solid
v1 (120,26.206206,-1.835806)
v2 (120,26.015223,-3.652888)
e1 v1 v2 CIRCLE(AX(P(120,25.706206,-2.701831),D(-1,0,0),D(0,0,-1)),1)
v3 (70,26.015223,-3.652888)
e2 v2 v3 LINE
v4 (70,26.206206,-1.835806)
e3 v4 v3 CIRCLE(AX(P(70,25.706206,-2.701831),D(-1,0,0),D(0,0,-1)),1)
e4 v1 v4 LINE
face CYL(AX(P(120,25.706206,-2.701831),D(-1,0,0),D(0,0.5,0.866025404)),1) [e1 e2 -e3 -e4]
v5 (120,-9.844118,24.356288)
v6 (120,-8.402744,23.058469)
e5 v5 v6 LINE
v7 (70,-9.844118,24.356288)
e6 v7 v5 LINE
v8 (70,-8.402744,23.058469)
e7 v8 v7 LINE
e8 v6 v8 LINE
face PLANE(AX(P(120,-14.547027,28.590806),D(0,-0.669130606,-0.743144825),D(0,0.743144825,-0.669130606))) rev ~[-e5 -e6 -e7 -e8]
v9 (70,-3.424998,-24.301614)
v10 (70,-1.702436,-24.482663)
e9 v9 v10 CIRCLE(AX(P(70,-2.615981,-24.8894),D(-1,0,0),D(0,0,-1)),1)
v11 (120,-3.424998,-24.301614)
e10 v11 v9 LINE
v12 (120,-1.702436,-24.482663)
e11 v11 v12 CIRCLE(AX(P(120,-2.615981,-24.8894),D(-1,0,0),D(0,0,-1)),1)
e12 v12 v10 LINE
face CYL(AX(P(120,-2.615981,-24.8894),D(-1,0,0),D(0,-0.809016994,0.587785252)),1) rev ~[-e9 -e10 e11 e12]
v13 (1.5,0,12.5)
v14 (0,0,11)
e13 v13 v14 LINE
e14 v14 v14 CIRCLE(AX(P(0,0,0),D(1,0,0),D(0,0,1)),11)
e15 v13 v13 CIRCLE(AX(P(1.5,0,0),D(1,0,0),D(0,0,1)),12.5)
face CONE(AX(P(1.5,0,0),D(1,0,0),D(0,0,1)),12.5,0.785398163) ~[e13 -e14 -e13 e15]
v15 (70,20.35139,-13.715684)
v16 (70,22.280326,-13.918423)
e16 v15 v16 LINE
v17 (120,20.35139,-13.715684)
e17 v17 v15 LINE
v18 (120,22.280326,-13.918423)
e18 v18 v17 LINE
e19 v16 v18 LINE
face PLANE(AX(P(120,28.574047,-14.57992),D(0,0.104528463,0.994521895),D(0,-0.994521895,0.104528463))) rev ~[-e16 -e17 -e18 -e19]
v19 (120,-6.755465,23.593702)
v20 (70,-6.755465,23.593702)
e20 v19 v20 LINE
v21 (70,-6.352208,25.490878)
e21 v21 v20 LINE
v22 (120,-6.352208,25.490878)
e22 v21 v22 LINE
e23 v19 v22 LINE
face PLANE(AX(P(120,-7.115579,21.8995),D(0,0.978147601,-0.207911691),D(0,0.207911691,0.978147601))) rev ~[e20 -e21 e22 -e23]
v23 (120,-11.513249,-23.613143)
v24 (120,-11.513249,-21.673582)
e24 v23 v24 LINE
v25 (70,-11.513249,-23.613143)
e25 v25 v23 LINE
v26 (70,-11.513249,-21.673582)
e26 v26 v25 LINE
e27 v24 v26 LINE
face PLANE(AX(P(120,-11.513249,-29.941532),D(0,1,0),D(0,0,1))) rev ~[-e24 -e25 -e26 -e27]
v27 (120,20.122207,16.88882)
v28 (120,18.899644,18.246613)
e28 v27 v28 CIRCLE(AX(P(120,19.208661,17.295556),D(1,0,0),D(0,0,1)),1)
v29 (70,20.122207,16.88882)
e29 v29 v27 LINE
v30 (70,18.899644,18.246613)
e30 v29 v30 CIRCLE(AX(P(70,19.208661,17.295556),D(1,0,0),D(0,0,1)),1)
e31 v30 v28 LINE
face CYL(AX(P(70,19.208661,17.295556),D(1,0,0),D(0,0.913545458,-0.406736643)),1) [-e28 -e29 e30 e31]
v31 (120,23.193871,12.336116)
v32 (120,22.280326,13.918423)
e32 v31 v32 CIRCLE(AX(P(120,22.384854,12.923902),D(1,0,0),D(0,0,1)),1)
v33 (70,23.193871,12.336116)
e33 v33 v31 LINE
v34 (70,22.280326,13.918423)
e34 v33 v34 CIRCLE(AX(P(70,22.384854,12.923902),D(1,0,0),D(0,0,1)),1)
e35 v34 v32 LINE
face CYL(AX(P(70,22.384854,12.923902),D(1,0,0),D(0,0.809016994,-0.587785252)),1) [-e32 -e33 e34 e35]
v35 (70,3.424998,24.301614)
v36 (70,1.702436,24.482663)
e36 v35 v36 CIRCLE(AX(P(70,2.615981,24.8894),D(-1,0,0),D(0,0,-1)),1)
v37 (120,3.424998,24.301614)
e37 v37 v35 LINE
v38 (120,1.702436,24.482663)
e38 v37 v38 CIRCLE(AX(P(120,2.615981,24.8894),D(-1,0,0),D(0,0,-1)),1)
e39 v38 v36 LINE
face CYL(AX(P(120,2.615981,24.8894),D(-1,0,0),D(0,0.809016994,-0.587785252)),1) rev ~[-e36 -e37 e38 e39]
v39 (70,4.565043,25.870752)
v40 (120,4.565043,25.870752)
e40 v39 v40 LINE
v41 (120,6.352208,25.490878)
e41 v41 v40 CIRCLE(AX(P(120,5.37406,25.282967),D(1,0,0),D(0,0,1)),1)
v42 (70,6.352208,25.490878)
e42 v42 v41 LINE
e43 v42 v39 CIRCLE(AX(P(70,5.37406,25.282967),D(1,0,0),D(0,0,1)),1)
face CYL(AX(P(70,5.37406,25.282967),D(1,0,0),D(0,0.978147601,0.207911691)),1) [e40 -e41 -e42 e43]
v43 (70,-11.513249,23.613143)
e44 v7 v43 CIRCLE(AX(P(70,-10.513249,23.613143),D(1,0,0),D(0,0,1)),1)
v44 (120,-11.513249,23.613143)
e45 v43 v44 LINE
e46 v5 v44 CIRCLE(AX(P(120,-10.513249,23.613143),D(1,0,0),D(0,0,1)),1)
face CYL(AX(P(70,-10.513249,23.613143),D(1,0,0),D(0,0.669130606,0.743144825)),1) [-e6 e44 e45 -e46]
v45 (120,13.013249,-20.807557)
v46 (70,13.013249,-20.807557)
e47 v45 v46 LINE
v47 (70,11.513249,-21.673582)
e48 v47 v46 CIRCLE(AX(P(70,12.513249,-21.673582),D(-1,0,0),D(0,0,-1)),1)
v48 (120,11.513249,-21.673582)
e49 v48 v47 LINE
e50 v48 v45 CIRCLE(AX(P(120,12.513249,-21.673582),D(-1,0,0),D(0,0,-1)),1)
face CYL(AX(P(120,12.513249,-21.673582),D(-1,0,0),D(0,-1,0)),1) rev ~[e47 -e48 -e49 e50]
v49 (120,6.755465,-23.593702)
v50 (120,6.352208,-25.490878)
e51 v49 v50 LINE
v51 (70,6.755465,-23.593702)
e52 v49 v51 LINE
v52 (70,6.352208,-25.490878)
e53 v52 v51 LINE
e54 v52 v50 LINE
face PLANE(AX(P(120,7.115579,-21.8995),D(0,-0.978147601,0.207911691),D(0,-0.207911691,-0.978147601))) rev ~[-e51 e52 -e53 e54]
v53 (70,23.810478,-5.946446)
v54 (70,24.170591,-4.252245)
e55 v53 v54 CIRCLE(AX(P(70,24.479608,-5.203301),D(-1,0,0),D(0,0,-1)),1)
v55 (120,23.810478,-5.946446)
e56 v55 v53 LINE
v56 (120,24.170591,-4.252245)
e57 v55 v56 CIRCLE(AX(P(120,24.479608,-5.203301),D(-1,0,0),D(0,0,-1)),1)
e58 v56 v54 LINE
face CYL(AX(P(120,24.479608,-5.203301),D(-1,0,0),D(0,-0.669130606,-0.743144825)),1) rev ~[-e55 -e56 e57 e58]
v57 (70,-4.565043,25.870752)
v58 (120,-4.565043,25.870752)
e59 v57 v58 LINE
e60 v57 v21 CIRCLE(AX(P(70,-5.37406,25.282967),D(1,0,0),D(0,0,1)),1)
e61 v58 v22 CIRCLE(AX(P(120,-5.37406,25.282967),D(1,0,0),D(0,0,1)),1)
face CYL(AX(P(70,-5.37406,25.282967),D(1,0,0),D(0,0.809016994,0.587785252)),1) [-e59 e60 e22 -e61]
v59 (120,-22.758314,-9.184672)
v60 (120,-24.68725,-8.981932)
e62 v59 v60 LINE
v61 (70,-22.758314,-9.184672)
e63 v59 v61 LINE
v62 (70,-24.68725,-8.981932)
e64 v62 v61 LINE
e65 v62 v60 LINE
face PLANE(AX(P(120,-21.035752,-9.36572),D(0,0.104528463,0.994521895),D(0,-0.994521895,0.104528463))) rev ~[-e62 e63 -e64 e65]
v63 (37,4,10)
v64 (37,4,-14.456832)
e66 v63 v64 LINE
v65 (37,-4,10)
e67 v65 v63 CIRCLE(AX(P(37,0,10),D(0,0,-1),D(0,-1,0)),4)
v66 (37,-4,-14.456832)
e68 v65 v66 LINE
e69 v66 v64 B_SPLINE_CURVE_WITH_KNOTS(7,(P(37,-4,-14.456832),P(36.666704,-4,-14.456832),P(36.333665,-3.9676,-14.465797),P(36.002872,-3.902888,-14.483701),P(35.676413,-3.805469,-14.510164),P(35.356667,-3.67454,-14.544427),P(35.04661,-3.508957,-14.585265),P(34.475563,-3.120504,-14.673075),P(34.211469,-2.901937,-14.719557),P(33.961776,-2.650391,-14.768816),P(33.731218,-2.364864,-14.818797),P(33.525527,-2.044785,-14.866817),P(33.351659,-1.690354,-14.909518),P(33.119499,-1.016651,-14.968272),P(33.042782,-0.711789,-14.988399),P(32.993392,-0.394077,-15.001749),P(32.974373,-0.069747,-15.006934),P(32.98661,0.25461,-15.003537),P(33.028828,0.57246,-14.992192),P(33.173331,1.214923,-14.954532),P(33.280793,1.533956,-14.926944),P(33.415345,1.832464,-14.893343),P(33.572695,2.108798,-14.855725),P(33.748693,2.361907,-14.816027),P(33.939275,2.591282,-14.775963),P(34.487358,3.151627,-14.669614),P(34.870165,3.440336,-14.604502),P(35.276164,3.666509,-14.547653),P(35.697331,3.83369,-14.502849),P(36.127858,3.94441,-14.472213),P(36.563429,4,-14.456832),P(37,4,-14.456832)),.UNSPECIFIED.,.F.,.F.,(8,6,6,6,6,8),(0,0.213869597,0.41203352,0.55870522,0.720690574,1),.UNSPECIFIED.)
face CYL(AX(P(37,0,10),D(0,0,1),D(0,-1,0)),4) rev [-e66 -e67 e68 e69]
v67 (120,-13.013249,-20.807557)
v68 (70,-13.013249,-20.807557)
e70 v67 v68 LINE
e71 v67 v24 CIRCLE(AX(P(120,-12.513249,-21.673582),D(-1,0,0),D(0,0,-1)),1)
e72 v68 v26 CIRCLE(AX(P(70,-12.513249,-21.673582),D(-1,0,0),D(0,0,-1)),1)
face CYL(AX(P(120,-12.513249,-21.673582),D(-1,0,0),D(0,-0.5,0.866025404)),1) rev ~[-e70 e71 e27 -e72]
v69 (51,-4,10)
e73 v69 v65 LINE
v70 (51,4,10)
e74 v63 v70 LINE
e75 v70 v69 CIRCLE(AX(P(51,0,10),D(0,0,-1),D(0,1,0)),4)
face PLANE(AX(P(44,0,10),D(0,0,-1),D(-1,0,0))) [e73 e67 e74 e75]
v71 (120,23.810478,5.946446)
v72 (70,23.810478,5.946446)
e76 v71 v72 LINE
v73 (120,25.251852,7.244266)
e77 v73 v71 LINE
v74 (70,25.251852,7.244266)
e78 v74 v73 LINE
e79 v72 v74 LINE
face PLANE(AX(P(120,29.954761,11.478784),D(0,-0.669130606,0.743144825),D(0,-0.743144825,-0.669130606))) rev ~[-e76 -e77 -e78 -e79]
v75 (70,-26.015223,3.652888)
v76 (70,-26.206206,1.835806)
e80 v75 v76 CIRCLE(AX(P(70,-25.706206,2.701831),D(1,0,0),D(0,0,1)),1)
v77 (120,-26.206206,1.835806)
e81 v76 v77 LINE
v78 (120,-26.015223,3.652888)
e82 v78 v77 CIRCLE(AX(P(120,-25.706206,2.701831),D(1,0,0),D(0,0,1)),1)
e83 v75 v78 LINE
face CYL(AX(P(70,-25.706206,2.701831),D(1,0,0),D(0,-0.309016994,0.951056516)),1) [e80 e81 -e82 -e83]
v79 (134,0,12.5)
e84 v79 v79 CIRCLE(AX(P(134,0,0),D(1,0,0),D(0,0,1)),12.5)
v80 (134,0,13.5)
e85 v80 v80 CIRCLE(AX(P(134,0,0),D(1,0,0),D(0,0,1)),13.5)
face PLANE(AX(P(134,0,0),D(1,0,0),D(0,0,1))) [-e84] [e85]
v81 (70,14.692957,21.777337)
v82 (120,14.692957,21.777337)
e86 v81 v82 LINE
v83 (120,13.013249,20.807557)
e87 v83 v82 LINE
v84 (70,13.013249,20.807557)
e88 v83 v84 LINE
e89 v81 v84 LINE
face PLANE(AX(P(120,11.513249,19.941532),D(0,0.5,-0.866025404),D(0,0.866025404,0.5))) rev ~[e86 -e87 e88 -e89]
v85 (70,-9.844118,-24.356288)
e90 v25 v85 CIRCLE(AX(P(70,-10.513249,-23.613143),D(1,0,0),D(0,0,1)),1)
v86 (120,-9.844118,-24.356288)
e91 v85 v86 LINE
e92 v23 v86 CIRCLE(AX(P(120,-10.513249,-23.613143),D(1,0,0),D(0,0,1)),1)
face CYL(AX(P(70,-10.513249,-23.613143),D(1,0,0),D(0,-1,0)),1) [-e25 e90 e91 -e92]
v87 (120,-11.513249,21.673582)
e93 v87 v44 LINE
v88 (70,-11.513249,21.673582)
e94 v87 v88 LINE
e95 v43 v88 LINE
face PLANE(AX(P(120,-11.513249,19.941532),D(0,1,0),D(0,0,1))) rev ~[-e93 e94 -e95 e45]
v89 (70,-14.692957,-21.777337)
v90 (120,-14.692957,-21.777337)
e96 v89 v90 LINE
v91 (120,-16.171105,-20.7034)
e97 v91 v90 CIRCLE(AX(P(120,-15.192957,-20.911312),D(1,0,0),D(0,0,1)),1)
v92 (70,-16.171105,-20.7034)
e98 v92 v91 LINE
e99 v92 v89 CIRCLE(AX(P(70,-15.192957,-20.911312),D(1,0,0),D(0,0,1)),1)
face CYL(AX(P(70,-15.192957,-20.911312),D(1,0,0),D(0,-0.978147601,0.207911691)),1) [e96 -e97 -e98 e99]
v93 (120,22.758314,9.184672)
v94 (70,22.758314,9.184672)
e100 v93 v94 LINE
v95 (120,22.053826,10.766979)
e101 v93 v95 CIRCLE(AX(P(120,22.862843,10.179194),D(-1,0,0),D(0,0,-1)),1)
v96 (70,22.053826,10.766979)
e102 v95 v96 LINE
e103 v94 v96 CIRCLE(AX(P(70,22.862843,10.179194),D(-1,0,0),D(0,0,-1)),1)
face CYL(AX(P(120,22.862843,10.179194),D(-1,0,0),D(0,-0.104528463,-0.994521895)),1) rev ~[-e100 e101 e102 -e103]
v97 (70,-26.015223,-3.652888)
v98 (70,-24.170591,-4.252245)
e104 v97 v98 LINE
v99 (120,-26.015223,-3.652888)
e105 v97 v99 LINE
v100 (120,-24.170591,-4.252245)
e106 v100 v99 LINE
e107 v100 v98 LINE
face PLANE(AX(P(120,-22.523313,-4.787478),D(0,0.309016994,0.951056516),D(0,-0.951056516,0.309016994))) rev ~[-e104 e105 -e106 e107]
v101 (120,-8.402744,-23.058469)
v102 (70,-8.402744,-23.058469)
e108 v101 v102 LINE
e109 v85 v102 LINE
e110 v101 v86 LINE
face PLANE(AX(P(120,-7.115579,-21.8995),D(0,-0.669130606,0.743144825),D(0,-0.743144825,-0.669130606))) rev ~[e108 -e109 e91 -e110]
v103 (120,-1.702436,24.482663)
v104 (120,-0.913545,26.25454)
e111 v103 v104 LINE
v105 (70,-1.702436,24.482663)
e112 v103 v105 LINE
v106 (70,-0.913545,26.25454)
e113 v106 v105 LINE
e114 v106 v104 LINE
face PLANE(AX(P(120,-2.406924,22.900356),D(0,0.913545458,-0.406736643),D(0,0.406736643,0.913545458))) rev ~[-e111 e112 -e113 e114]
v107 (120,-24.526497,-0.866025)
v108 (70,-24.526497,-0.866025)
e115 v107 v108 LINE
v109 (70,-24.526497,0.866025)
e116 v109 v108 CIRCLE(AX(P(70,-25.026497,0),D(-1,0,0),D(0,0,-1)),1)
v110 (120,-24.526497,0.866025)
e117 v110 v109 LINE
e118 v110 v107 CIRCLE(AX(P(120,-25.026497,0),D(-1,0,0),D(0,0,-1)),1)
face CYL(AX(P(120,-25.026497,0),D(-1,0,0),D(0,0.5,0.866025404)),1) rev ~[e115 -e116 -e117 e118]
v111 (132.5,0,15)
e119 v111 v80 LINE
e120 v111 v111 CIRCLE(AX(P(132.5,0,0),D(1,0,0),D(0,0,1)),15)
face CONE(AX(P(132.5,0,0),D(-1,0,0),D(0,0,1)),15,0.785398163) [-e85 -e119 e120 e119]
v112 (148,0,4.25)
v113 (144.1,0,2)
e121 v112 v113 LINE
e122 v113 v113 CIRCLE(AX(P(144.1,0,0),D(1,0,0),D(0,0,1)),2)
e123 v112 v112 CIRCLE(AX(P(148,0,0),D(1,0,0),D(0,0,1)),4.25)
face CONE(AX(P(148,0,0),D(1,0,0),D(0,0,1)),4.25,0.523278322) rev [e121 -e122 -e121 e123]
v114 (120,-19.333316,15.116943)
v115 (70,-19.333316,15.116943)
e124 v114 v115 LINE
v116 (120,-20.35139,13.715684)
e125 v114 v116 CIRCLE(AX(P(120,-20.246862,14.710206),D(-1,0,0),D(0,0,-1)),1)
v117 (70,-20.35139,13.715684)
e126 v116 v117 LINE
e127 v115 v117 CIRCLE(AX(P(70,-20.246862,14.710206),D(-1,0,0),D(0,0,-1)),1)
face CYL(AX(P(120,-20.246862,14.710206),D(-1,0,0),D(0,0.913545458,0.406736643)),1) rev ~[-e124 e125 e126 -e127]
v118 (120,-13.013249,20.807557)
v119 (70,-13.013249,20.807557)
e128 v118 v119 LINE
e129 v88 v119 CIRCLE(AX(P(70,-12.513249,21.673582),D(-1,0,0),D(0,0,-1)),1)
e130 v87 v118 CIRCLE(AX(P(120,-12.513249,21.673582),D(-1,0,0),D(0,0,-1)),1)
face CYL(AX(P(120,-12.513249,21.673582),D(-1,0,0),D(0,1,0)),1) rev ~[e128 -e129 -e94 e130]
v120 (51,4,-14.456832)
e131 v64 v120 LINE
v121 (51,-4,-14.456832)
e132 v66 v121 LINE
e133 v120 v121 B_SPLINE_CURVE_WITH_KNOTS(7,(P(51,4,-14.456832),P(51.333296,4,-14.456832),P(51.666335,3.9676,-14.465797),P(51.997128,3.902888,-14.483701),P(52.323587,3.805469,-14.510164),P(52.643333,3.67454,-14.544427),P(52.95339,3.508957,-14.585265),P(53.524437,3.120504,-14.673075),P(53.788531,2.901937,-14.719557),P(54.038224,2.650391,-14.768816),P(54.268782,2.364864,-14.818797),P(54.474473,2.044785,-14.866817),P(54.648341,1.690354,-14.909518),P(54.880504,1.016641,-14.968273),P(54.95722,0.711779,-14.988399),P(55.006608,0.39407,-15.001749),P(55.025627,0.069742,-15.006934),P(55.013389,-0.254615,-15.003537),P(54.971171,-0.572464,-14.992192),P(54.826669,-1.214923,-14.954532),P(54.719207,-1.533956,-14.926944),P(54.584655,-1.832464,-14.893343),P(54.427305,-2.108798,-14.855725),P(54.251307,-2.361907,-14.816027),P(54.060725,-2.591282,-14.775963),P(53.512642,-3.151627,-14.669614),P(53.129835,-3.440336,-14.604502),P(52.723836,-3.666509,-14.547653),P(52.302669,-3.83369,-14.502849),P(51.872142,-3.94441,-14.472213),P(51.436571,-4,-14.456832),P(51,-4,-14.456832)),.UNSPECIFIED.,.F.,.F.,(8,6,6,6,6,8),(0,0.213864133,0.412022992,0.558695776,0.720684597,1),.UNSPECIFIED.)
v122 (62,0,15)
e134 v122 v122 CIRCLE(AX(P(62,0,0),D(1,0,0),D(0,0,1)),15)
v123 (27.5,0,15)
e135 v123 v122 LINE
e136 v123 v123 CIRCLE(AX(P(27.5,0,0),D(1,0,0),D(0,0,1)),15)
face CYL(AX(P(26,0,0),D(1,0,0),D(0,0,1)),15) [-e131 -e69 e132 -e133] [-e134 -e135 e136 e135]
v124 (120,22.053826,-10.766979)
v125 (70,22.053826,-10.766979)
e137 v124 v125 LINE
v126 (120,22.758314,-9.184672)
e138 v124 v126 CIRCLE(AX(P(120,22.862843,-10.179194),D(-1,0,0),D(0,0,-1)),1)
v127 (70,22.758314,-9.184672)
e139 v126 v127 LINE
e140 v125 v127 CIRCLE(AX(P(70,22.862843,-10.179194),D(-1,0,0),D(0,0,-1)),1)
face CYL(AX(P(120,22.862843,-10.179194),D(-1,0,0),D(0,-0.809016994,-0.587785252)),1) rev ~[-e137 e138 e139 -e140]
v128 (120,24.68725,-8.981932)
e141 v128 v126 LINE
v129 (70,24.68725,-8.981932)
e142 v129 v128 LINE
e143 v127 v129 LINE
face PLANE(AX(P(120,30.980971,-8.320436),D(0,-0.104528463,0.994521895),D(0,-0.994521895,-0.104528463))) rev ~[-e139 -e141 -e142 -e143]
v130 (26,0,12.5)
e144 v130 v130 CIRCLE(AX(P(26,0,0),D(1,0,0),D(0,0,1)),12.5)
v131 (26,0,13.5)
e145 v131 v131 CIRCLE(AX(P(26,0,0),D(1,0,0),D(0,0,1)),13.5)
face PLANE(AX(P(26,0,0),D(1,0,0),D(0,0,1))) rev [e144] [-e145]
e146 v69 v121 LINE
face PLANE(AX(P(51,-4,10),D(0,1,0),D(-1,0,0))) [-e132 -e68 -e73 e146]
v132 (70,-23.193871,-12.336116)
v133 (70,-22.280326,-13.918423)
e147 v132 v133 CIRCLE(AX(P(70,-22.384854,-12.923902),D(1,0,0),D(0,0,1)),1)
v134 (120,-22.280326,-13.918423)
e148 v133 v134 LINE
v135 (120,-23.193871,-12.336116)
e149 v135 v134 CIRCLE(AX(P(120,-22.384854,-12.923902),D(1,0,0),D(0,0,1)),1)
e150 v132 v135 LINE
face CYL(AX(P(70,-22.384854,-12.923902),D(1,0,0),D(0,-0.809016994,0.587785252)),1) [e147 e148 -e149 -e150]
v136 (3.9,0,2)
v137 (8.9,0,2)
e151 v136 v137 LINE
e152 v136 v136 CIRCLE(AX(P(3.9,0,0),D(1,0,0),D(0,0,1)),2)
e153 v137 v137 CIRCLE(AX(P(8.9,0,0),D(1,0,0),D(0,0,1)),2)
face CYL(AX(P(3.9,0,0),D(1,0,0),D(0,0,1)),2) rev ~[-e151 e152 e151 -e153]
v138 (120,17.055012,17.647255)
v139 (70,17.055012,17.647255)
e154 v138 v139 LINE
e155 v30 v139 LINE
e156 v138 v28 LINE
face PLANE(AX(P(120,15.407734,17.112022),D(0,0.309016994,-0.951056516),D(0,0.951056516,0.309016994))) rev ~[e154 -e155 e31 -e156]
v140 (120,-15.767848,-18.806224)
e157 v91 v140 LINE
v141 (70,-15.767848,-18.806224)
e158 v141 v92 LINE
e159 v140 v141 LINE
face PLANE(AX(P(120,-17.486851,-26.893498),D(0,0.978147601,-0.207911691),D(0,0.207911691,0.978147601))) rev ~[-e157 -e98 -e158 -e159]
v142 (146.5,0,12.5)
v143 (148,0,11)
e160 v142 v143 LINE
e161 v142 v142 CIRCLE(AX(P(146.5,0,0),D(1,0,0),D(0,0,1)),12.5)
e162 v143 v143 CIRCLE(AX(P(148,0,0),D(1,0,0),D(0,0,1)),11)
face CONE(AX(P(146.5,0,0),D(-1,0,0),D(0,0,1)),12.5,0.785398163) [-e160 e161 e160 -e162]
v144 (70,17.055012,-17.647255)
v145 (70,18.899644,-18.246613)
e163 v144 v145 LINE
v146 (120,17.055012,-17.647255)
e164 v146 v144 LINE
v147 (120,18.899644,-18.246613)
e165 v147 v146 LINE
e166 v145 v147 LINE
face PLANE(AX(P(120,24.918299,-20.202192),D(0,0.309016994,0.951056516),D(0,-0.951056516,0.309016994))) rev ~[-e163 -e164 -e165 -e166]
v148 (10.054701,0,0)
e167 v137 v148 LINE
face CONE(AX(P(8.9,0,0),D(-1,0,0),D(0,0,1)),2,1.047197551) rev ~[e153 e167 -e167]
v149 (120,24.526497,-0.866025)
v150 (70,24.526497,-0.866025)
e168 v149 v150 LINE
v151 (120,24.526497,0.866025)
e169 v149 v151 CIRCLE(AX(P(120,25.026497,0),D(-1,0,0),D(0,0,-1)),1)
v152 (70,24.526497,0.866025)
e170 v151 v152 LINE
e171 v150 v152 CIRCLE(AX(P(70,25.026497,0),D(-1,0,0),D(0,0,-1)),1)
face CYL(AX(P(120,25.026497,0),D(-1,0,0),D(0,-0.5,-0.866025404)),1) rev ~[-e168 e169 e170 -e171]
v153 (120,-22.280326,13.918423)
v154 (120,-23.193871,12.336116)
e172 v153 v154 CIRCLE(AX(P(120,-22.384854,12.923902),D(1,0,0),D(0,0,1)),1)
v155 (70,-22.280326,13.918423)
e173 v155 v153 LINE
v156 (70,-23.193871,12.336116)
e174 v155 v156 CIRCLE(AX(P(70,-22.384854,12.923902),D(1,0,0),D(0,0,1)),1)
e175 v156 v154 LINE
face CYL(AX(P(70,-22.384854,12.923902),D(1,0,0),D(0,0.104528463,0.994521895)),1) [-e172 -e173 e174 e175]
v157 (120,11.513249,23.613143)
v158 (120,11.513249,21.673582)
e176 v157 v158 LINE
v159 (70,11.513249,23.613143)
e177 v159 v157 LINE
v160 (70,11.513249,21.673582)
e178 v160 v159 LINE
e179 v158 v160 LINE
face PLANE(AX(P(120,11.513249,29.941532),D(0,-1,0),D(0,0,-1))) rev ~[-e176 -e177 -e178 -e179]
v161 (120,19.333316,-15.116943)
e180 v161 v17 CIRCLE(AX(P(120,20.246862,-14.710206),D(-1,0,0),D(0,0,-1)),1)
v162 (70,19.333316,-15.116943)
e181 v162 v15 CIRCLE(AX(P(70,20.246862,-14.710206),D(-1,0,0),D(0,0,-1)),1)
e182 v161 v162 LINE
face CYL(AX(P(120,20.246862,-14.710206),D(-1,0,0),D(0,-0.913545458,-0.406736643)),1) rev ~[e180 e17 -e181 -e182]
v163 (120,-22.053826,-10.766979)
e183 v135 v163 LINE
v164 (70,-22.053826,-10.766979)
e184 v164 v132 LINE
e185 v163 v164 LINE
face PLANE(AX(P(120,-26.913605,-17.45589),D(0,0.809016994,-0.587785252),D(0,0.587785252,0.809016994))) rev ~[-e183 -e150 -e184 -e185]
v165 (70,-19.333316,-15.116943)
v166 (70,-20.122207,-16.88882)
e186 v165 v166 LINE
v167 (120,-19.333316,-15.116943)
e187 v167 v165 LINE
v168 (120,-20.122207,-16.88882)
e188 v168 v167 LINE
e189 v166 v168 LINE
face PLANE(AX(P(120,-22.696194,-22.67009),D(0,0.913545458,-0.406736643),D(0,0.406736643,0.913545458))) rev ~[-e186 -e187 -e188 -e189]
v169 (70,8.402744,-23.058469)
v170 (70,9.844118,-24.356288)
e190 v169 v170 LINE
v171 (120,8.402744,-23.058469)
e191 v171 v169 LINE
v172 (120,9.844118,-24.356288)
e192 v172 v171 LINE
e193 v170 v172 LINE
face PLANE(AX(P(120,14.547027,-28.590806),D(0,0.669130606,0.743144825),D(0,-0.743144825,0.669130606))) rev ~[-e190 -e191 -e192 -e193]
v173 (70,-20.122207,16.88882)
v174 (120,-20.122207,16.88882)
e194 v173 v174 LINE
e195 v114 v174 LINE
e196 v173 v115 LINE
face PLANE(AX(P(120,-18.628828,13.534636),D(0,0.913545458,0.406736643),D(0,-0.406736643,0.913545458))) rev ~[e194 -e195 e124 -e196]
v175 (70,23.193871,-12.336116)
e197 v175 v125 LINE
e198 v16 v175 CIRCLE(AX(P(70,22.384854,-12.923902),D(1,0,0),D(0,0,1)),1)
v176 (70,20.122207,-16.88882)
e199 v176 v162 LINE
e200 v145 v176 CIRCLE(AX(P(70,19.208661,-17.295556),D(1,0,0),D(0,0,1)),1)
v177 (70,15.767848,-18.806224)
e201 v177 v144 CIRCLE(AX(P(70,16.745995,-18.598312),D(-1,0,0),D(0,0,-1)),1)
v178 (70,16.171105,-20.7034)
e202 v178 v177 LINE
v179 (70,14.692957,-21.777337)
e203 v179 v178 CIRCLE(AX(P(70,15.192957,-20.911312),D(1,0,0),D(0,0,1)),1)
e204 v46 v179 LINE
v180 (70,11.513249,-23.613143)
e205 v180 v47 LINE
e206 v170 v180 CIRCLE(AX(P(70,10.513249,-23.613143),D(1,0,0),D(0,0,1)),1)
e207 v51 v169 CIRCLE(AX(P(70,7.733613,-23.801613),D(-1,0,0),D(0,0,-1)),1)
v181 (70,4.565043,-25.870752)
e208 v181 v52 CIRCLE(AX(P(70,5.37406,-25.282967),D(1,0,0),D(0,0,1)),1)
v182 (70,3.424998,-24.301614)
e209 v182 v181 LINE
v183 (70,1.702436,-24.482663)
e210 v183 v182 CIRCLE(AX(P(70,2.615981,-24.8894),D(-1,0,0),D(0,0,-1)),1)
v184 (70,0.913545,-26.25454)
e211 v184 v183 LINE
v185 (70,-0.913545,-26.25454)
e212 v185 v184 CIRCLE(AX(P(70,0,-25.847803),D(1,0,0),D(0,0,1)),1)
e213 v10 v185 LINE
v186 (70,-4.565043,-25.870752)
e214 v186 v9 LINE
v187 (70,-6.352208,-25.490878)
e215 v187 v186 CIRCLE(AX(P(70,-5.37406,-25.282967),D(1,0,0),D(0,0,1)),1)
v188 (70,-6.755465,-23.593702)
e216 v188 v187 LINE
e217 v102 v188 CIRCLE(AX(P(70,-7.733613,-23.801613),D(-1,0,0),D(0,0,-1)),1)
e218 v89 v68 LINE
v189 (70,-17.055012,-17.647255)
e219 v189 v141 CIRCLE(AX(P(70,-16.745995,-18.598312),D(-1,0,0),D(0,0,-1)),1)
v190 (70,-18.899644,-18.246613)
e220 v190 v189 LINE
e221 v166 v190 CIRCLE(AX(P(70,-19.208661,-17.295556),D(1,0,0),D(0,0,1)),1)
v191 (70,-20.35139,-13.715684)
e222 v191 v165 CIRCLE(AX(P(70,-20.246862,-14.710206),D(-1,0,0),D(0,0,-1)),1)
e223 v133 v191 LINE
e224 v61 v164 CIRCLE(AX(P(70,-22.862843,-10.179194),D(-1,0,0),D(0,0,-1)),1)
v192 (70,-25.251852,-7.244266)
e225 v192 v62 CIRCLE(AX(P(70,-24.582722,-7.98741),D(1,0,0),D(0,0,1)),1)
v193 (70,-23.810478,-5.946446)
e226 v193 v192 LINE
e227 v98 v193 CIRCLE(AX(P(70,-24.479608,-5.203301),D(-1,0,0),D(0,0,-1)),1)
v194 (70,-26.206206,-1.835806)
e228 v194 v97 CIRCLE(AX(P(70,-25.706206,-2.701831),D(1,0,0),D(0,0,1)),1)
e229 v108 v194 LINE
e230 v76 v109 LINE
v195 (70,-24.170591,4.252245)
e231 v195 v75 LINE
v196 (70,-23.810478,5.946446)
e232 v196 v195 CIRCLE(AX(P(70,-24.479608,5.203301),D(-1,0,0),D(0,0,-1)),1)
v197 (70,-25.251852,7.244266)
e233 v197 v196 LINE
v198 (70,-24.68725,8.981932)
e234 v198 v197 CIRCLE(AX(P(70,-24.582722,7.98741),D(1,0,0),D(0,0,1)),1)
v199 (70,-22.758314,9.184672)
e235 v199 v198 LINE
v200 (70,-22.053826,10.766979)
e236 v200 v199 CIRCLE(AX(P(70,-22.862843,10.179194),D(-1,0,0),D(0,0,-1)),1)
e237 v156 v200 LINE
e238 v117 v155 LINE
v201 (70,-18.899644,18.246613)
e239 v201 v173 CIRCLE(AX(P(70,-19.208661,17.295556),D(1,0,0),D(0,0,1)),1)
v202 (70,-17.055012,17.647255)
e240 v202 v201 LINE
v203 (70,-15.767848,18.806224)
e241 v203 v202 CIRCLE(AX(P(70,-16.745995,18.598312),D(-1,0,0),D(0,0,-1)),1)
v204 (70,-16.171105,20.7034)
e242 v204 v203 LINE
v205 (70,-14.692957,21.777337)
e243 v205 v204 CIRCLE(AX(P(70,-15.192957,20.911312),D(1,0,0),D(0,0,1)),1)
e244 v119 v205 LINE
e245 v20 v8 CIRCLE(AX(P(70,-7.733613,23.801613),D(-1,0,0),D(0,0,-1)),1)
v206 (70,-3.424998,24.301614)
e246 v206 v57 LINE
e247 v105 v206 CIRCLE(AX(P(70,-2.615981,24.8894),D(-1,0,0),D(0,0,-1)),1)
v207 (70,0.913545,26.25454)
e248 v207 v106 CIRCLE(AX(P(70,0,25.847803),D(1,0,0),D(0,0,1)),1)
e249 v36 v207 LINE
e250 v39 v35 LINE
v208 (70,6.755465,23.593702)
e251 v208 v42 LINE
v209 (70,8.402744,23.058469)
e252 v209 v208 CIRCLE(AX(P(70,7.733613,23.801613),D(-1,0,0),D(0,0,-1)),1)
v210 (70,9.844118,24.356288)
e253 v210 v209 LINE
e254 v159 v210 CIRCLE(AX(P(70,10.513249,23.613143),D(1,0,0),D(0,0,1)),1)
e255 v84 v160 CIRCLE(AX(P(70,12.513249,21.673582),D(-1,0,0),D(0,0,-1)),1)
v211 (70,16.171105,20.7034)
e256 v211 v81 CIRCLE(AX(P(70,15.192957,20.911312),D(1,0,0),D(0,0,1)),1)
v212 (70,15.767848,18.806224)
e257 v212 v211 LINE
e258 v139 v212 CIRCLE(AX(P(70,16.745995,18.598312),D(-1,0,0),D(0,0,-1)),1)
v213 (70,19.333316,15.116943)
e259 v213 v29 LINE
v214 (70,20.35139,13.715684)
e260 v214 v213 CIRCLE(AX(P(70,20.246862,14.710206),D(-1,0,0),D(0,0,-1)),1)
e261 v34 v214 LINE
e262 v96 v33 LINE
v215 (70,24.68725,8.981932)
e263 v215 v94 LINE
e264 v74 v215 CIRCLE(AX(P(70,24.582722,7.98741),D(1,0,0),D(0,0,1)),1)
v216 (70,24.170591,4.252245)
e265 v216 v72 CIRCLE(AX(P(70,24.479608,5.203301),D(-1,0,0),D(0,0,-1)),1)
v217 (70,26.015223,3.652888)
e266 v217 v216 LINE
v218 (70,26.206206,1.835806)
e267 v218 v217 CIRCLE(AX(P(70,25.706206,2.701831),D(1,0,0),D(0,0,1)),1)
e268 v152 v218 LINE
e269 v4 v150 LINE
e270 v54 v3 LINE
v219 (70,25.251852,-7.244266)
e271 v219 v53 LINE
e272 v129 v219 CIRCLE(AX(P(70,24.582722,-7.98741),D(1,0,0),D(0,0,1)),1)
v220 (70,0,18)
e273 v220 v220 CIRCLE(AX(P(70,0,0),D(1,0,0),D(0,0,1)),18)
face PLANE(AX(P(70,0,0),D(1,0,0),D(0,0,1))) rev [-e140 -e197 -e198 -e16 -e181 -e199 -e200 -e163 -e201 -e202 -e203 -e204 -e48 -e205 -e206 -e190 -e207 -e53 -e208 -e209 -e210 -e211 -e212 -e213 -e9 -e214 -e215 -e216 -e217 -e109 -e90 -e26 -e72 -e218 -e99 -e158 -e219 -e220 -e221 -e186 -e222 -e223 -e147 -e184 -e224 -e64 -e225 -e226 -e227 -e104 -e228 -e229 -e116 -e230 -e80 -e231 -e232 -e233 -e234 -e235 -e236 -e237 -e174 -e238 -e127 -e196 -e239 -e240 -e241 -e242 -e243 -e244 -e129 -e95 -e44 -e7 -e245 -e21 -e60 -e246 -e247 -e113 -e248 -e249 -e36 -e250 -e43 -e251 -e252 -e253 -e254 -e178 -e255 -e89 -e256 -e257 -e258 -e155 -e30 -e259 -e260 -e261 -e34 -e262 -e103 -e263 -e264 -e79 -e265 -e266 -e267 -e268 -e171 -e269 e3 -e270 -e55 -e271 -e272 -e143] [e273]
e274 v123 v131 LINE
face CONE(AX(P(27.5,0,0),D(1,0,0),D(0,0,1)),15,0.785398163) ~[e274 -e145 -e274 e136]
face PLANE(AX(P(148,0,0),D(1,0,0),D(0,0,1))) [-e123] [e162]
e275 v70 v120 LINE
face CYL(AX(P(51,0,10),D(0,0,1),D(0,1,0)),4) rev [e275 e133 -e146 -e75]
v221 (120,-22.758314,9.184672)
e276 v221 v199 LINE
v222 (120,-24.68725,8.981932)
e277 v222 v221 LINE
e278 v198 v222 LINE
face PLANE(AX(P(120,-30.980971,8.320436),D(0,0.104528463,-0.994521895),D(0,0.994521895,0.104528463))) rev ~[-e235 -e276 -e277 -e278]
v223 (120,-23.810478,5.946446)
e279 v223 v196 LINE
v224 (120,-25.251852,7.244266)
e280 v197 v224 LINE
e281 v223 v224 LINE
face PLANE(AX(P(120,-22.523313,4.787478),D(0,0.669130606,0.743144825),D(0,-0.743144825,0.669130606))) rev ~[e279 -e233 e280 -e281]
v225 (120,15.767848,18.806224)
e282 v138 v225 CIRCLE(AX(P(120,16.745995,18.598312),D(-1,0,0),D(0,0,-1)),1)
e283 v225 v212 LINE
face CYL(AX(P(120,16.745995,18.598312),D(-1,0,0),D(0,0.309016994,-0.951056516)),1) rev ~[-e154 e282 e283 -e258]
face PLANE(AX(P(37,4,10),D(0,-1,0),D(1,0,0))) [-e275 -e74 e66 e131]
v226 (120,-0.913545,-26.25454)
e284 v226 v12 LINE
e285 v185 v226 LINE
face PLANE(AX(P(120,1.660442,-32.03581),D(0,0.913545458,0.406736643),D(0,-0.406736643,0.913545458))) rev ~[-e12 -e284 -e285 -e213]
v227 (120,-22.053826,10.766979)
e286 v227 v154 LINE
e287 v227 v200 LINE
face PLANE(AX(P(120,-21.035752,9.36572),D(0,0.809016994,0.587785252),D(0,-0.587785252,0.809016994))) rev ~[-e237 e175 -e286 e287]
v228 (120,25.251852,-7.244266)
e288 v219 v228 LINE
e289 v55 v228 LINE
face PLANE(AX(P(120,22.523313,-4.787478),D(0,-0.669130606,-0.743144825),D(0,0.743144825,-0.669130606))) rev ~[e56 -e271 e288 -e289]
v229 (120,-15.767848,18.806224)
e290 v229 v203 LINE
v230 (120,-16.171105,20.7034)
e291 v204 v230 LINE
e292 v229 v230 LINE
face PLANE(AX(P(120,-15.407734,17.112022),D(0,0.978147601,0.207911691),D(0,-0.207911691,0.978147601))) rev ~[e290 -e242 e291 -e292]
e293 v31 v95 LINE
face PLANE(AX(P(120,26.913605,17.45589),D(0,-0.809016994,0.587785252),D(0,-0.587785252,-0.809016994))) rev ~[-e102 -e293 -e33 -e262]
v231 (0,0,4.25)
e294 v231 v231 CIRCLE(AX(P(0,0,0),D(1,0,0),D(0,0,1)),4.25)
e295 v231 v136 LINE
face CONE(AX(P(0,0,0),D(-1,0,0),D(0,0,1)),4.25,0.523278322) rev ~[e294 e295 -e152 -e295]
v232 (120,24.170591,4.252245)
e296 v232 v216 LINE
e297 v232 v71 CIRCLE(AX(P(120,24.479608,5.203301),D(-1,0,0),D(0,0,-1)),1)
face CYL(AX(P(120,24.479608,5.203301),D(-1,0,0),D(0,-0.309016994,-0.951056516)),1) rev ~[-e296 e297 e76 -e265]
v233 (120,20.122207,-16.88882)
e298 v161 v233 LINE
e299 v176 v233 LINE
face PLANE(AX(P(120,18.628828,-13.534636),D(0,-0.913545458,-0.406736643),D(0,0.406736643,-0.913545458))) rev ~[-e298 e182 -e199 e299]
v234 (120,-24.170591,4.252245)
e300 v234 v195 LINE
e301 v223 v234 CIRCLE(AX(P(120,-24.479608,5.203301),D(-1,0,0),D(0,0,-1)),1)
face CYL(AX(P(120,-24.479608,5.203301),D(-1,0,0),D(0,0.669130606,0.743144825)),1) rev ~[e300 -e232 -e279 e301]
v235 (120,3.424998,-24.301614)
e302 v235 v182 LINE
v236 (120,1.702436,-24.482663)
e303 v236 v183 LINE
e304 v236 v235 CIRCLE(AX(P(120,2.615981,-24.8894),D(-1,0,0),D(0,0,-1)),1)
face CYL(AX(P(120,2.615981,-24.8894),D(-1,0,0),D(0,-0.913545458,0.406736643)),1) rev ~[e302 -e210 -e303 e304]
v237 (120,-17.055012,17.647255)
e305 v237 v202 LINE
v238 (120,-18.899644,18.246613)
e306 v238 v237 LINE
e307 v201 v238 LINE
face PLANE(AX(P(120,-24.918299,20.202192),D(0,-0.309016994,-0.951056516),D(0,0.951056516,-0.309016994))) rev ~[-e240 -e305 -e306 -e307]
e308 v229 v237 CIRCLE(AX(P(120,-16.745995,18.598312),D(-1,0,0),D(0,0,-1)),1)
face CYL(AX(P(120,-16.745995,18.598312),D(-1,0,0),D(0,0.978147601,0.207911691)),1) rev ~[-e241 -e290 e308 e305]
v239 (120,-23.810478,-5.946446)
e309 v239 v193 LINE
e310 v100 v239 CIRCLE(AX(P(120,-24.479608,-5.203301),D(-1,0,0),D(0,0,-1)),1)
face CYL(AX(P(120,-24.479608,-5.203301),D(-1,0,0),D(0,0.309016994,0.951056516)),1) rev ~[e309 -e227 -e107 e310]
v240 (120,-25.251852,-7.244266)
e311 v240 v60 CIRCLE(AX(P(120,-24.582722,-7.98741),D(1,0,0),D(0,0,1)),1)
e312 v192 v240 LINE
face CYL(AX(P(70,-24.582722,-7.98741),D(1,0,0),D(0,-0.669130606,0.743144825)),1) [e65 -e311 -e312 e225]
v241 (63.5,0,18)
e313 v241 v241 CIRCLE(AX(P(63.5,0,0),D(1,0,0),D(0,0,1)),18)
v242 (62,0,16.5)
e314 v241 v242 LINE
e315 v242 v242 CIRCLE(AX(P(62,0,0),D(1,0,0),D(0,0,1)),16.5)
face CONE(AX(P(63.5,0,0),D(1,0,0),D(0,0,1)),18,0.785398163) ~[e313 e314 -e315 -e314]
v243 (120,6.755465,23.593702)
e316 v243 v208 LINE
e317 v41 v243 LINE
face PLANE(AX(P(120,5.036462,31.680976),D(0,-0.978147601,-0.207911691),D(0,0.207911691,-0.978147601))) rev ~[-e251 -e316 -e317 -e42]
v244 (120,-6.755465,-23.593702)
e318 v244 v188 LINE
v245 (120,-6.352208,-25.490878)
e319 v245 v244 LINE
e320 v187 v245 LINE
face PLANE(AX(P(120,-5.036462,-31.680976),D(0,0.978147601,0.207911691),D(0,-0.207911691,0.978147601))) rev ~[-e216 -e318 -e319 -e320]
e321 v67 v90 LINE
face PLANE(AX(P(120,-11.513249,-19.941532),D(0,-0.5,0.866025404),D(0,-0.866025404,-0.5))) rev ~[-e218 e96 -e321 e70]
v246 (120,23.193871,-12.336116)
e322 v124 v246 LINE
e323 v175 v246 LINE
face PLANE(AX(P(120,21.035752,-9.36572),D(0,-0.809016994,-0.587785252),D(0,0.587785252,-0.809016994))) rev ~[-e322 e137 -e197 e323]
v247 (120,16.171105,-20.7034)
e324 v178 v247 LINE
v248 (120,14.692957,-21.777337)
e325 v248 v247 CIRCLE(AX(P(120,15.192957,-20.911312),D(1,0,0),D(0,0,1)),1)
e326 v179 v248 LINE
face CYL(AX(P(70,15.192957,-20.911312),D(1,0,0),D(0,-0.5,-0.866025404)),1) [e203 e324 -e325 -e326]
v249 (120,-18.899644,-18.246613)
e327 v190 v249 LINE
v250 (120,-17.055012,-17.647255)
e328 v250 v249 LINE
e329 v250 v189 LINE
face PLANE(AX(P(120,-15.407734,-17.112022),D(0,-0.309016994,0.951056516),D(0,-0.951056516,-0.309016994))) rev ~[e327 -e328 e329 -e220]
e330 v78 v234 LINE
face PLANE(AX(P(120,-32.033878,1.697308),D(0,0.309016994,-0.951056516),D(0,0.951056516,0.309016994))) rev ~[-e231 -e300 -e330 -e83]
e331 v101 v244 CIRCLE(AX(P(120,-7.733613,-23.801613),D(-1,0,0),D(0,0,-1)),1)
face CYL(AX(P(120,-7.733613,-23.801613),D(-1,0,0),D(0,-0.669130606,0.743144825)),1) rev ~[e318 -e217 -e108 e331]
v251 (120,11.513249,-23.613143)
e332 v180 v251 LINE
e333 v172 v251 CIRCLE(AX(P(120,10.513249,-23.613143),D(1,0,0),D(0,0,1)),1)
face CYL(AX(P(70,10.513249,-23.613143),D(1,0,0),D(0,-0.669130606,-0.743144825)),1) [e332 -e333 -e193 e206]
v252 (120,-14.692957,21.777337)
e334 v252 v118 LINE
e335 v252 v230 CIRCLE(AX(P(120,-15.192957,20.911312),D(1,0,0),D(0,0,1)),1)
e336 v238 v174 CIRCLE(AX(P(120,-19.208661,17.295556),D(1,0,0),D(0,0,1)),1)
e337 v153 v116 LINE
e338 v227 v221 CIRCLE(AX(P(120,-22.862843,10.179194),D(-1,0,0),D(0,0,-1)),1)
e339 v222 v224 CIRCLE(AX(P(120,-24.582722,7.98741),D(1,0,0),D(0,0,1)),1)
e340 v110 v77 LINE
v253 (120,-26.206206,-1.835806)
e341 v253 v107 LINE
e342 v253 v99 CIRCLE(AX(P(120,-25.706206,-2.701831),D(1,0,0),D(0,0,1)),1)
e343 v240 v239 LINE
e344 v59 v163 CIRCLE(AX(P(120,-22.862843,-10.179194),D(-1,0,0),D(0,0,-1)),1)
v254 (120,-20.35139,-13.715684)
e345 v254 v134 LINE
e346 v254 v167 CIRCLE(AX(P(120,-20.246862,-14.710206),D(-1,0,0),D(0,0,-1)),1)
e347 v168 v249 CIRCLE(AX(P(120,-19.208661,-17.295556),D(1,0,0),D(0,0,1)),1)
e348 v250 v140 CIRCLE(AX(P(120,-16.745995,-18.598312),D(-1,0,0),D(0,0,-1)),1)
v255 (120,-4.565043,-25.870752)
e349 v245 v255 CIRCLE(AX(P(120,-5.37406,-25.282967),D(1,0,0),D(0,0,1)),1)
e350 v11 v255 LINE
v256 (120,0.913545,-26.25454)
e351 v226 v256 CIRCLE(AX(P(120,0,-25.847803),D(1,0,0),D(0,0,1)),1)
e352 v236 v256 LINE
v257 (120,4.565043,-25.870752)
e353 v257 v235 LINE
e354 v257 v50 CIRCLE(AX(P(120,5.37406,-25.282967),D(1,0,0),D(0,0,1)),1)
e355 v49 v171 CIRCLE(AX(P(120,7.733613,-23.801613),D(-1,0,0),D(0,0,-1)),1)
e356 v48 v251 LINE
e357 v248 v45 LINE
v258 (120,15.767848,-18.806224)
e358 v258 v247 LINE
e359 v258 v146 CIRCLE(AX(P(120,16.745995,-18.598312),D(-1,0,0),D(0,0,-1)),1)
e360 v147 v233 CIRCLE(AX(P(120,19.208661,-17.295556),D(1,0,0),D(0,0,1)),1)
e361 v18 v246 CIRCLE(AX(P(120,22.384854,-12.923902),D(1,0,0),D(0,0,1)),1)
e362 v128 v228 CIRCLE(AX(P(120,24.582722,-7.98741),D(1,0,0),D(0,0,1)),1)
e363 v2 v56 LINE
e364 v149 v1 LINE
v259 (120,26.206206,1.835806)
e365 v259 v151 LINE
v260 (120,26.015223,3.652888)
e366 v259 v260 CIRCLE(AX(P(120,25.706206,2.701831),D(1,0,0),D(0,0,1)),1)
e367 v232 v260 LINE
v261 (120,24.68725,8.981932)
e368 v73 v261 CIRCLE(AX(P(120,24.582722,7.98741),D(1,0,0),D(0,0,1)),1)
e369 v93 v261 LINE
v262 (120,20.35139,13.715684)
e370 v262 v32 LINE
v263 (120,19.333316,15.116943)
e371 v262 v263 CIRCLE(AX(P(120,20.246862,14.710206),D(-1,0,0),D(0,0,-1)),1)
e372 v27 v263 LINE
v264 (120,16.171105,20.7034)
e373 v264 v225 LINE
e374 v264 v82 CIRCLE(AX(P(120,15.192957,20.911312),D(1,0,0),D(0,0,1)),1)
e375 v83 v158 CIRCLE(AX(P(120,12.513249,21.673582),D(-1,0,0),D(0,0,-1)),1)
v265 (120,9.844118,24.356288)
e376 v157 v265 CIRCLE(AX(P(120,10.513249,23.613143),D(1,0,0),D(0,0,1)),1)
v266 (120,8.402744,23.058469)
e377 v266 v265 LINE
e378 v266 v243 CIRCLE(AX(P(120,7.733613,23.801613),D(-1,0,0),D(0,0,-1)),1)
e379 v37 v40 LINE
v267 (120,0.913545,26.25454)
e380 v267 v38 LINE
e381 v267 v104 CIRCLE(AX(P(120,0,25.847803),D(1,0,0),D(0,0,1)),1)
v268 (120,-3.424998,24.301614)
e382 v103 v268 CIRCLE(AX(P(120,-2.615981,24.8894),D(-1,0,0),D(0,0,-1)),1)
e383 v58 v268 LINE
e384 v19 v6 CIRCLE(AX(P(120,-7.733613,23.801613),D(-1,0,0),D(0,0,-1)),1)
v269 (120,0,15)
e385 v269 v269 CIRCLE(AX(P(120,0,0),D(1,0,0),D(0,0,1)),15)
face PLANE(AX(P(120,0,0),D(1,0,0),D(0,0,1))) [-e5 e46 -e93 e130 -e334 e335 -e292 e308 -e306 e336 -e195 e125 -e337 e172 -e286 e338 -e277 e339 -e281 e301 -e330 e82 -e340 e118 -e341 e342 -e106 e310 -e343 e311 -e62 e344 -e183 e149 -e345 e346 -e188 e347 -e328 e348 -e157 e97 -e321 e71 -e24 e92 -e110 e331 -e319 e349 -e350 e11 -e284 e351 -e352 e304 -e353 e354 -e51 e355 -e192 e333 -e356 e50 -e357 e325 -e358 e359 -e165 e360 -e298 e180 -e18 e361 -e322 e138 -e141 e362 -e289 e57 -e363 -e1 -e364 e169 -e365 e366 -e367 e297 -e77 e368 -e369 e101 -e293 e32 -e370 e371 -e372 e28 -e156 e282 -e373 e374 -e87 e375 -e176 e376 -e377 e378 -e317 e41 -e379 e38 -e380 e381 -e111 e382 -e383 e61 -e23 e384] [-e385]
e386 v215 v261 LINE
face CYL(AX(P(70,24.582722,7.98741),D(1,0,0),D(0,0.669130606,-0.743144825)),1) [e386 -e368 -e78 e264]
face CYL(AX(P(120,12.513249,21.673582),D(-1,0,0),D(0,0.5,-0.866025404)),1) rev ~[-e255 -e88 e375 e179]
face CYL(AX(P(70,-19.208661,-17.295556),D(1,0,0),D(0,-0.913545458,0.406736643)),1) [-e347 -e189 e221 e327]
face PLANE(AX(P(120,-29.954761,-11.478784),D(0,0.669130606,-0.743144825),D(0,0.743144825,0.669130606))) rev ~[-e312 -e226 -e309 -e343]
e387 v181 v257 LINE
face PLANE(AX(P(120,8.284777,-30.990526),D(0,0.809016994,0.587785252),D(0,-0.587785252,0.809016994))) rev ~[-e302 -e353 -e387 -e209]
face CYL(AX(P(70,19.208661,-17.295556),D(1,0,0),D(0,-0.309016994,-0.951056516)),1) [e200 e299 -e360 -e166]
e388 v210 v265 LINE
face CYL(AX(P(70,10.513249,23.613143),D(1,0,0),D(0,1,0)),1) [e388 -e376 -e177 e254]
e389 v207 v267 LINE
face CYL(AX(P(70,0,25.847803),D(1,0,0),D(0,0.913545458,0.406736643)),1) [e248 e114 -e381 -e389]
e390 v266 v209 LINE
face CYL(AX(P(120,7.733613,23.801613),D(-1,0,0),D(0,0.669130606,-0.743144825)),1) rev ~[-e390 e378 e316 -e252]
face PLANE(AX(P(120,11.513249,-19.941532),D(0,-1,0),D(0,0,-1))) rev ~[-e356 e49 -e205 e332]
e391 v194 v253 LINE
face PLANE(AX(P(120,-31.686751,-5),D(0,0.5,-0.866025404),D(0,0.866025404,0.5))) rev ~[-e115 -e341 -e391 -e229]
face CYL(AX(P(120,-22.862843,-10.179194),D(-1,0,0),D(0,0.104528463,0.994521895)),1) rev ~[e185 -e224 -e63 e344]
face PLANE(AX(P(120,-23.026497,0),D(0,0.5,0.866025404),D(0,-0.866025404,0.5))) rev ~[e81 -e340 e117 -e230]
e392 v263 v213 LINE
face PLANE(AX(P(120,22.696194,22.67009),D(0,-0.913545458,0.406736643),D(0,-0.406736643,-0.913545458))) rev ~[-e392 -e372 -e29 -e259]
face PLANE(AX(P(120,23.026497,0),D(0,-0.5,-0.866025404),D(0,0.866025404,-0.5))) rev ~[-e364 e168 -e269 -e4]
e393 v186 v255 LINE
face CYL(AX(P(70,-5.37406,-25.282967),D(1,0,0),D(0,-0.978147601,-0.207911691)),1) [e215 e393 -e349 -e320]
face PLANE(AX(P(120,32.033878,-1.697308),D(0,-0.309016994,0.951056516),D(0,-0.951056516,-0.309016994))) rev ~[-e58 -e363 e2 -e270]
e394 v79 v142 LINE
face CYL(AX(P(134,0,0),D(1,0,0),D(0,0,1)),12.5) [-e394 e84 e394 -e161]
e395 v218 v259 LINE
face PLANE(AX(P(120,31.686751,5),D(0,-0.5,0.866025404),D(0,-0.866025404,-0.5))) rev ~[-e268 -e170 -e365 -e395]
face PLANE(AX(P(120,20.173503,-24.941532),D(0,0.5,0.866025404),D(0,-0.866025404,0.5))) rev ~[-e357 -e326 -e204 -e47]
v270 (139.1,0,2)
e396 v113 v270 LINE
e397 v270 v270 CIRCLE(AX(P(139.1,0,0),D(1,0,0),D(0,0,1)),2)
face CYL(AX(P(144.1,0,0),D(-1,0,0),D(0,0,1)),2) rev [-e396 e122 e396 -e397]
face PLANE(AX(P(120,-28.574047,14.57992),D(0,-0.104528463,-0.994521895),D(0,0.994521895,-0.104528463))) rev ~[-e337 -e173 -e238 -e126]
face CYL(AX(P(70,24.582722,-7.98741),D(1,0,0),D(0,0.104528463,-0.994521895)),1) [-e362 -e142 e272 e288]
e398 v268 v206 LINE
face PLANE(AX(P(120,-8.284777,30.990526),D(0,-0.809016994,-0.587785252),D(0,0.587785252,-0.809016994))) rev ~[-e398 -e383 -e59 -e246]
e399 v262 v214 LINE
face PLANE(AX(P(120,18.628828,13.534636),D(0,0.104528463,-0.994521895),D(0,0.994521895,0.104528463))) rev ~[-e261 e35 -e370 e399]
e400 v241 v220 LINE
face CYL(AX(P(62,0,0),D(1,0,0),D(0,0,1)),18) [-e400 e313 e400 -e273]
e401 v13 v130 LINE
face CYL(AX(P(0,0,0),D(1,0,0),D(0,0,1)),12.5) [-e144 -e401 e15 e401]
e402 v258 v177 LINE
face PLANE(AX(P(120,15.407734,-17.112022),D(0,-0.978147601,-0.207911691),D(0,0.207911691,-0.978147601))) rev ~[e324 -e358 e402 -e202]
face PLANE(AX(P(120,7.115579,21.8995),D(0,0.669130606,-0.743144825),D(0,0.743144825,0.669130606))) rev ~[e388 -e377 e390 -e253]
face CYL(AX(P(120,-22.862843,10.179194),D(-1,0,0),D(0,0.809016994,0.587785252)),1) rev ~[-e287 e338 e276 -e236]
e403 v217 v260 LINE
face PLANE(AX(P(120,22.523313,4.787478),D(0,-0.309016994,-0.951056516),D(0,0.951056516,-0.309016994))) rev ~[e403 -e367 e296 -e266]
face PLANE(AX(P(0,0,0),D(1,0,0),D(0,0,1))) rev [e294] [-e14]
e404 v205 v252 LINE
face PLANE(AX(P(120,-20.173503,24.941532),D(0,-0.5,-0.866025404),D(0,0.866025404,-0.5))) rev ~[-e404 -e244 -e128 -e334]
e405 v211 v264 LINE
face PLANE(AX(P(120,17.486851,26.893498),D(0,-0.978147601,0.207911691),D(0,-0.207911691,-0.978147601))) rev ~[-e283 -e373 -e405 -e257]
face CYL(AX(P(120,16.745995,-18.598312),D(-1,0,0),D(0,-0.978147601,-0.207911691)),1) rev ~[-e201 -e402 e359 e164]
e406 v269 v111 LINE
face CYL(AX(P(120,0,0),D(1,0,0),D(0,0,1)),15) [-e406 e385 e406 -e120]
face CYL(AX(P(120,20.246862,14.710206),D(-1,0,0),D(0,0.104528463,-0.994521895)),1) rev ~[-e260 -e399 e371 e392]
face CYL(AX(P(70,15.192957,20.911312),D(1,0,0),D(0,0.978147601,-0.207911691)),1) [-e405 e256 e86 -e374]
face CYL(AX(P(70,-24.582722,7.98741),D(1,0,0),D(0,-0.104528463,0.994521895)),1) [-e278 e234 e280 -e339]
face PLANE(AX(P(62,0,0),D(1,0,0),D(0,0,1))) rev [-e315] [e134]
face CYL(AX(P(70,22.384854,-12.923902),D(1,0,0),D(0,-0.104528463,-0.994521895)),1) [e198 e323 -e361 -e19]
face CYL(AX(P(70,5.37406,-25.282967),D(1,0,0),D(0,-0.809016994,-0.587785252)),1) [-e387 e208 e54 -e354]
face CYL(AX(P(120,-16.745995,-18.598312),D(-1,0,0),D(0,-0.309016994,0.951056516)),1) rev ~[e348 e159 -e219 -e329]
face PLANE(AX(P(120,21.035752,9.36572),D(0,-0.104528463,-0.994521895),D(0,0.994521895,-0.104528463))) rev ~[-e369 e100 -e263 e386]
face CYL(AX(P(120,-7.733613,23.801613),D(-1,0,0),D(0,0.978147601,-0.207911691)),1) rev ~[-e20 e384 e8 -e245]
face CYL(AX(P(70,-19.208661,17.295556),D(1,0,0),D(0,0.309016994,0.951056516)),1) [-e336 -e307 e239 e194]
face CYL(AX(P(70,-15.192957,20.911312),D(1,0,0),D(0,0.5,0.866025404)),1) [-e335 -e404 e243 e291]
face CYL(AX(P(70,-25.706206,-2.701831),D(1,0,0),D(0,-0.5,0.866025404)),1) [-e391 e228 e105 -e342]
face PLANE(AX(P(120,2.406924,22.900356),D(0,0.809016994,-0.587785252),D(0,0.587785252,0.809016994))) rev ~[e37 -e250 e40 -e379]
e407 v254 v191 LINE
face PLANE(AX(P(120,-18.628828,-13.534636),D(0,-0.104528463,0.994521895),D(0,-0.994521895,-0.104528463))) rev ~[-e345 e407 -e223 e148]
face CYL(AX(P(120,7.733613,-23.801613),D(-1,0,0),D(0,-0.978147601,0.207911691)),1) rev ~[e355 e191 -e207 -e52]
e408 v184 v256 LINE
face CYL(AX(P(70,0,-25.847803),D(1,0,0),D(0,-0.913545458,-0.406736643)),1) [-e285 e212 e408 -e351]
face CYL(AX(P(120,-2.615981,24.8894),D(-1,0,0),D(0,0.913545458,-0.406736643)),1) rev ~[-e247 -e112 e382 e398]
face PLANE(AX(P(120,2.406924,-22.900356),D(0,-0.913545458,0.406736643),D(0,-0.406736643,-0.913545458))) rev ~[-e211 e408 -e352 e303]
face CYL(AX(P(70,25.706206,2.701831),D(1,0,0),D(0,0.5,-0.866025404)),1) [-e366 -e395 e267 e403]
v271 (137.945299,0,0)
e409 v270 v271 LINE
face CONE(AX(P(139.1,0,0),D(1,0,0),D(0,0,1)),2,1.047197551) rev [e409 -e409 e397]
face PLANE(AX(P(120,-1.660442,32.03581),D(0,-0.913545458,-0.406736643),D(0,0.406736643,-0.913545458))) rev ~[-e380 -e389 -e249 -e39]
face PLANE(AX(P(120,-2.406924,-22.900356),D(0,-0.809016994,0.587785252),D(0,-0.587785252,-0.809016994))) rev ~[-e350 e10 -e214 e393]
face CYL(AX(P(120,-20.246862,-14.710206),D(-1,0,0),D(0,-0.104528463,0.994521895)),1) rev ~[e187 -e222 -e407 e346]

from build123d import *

# Parameters (mm, degrees)
CUT_EXTRUDE_START        = 10
CUT_EXTRUDE_1_DEPTH      = 164.502052104
CUT_EXTRUDE_2_DEPTH      = 127.723636311
PATTERN_CIRCULAR_1_COUNT = 30
FILLET_2_R               = 1
CHAMFER_1_SIZE           = 1.5


with BuildPart() as part:
    # Эскиз1 → Повернуть1 (revolve)
    with BuildSketch(Plane.XY, mode=Mode.PRIVATE) as revolve_1_sk:
        Polygon((0, -12.5), (26, -12.5), (26, -15), (62, -15), (62, -18), (70, -18), (70, -28.8), (120, -28.8), (120, -15), (134, -15), (134, -12.5), (148, -12.5), (148, 0), (0, 0), align=None)
    revolve(revolve_1_sk.sketch.rotate(Axis((0, 0, 0), (1, 0, 0)), 270), axis=Axis((0, 0, 0), (1, 0, 0)))

    # Эскиз2 → Вырез-Повернуть1 (revolve, cut)
    with BuildSketch(Plane.XY, mode=Mode.PRIVATE) as cut_revolve_1_sk:
        Polygon((0, 4.25), (3.9, 2), (8.9, 2), (10.054700538, 0), (0, 0), align=None)
    cut_revolve_1 = revolve(cut_revolve_1_sk.sketch.rotate(Axis((0, 0, 0), (1, 0, 0)), 90), axis=Axis((0, 0, 0), (1, 0, 0)), mode=Mode.SUBTRACT)

    # Зеркальное отражение1: Вырез-Повернуть1 across plane
    add(cut_revolve_1.mirror(Plane.ZY.offset(-74)), mode=Mode.SUBTRACT)

    # Эскиз3 → Вырез-Вытянуть1 (cut, through all)
    with BuildSketch(Plane.XY.offset(CUT_EXTRUDE_START)):
        with BuildLine():
            Line((37, 4), (51, 4))
            ThreePointArc((51, 4), (55, 0), (51, -4))
            Line((51, -4), (37, -4))
            ThreePointArc((37, -4), (33, 0), (37, 4))
        make_face()
    extrude(amount=-CUT_EXTRUDE_1_DEPTH, mode=Mode.SUBTRACT)

    # Эскиз4 → Вырез-Вытянуть2 (cut, through all)
    with BuildSketch(Plane(origin=(120, 0, 0), x_dir=(0, 0, -1), z_dir=(1, 0, 0))):
        Polygon((5, 31.686751346), (-5, 31.686751346), (0, 23.026497308), align=None)
    cut_extrude_2 = extrude(amount=-CUT_EXTRUDE_2_DEPTH, mode=Mode.SUBTRACT)

    # Круговой массив1: Вырез-Вытянуть2 ×30 about axis
    pattern_circular_1_axis = Axis((0, 0, 0), (1, 0, 0))
    for i in range(1, PATTERN_CIRCULAR_1_COUNT):
        add(cut_extrude_2.rotate(pattern_circular_1_axis, i * 360 / PATTERN_CIRCULAR_1_COUNT), mode=Mode.SUBTRACT)

    # Скругление2
    fillet_2_edges = [part.edges().sort_by_distance(p)[0] for p in [
        (95, 22.523313095, -4.787477989),
        (95, 21.035752021, -9.365720217),
        (95, 26.92098276, -8.747157541),
        (95, 18.628827643, -13.53463553),
        (95, 24.514058382, -14.153198206),
        (95, 11.513248654, -19.941531629),
        (95, 16.638082356, -22.900355747),
        (95, 15.407734106, -17.112022323),
        (95, 21.035752021, -18.940676195),
        (95, 7.115578989, -21.899500312),
        (95, 11.513248654, -25.859179864),
        (95, 2.406924378, -22.900355747),
        (95, 5.885230739, -27.687833735),
        (95, -7.115578989, -21.899500312),
        (95, -5.885230739, -27.687833735),
        (95, -2.406924378, -22.900355747),
        (95, 0, -28.306396412),
        (95, -11.513248654, -19.941531629),
        (95, -11.513248654, -25.859179864),
        (95, -15.407734106, -17.112022323),
        (95, -16.638082356, -22.900355747),
        (95, -21.035752021, -9.365720217),
        (95, -24.514058382, -14.153198206),
        (95, -18.628827643, -13.53463553),
        (95, -21.035752021, -18.940676195),
        (95, -22.523313095, -4.787477989),
        (95, -26.92098276, -8.747157541),
        (95, -23.026497308, 0),
        (95, -28.15133101, -2.958824118),
        (95, -21.035752021, 9.365720217),
        (95, -26.92098276, 8.747157541),
        (95, -22.523313095, 4.787477989),
        (95, -28.15133101, 2.958824118),
        (95, -18.628827643, 13.53463553),
        (95, -24.514058382, 14.153198206),
        (95, -15.407734106, 17.112022323),
        (95, -21.035752021, 18.940676195),
        (95, -7.115578989, 21.899500312),
        (95, -11.513248654, 25.859179864),
        (95, -11.513248654, 19.941531629),
        (95, -16.638082356, 22.900355747),
        (95, -2.406924378, 22.900355747),
        (95, -5.885230739, 27.687833735),
        (95, 2.406924378, 22.900355747),
        (95, 0, 28.306396412),
        (95, 11.513248654, 19.941531629),
        (95, 11.513248654, 25.859179864),
        (95, 7.115578989, 21.899500312),
        (95, 5.885230739, 27.687833735),
        (95, 15.407734106, 17.112022323),
        (95, 16.638082356, 22.900355747),
        (95, 18.628827643, 13.53463553),
        (95, 21.035752021, 18.940676195),
        (95, 22.523313095, 4.787477989),
        (95, 26.92098276, 8.747157541),
        (95, 21.035752021, 9.365720217),
        (95, 24.514058382, 14.153198206),
        (95, 23.026497308, 0),
        (95, 28.15133101, 2.958824118),
        (95, 28.15133101, -2.958824118),
    ]]
    fillet(fillet_2_edges, radius=FILLET_2_R)

    # Фаска1
    chamfer_1_edges = [part.edges().sort_by_distance(p)[0] for p in [
        (148, 0, -12.5),
        (134, 0, -15),
        (62, 0, -18),
        (26, 0, -15),
        (0, 0, -12.5),
    ]]
    chamfer(chamfer_1_edges, length=CHAMFER_1_SIZE)


solid = part.part
